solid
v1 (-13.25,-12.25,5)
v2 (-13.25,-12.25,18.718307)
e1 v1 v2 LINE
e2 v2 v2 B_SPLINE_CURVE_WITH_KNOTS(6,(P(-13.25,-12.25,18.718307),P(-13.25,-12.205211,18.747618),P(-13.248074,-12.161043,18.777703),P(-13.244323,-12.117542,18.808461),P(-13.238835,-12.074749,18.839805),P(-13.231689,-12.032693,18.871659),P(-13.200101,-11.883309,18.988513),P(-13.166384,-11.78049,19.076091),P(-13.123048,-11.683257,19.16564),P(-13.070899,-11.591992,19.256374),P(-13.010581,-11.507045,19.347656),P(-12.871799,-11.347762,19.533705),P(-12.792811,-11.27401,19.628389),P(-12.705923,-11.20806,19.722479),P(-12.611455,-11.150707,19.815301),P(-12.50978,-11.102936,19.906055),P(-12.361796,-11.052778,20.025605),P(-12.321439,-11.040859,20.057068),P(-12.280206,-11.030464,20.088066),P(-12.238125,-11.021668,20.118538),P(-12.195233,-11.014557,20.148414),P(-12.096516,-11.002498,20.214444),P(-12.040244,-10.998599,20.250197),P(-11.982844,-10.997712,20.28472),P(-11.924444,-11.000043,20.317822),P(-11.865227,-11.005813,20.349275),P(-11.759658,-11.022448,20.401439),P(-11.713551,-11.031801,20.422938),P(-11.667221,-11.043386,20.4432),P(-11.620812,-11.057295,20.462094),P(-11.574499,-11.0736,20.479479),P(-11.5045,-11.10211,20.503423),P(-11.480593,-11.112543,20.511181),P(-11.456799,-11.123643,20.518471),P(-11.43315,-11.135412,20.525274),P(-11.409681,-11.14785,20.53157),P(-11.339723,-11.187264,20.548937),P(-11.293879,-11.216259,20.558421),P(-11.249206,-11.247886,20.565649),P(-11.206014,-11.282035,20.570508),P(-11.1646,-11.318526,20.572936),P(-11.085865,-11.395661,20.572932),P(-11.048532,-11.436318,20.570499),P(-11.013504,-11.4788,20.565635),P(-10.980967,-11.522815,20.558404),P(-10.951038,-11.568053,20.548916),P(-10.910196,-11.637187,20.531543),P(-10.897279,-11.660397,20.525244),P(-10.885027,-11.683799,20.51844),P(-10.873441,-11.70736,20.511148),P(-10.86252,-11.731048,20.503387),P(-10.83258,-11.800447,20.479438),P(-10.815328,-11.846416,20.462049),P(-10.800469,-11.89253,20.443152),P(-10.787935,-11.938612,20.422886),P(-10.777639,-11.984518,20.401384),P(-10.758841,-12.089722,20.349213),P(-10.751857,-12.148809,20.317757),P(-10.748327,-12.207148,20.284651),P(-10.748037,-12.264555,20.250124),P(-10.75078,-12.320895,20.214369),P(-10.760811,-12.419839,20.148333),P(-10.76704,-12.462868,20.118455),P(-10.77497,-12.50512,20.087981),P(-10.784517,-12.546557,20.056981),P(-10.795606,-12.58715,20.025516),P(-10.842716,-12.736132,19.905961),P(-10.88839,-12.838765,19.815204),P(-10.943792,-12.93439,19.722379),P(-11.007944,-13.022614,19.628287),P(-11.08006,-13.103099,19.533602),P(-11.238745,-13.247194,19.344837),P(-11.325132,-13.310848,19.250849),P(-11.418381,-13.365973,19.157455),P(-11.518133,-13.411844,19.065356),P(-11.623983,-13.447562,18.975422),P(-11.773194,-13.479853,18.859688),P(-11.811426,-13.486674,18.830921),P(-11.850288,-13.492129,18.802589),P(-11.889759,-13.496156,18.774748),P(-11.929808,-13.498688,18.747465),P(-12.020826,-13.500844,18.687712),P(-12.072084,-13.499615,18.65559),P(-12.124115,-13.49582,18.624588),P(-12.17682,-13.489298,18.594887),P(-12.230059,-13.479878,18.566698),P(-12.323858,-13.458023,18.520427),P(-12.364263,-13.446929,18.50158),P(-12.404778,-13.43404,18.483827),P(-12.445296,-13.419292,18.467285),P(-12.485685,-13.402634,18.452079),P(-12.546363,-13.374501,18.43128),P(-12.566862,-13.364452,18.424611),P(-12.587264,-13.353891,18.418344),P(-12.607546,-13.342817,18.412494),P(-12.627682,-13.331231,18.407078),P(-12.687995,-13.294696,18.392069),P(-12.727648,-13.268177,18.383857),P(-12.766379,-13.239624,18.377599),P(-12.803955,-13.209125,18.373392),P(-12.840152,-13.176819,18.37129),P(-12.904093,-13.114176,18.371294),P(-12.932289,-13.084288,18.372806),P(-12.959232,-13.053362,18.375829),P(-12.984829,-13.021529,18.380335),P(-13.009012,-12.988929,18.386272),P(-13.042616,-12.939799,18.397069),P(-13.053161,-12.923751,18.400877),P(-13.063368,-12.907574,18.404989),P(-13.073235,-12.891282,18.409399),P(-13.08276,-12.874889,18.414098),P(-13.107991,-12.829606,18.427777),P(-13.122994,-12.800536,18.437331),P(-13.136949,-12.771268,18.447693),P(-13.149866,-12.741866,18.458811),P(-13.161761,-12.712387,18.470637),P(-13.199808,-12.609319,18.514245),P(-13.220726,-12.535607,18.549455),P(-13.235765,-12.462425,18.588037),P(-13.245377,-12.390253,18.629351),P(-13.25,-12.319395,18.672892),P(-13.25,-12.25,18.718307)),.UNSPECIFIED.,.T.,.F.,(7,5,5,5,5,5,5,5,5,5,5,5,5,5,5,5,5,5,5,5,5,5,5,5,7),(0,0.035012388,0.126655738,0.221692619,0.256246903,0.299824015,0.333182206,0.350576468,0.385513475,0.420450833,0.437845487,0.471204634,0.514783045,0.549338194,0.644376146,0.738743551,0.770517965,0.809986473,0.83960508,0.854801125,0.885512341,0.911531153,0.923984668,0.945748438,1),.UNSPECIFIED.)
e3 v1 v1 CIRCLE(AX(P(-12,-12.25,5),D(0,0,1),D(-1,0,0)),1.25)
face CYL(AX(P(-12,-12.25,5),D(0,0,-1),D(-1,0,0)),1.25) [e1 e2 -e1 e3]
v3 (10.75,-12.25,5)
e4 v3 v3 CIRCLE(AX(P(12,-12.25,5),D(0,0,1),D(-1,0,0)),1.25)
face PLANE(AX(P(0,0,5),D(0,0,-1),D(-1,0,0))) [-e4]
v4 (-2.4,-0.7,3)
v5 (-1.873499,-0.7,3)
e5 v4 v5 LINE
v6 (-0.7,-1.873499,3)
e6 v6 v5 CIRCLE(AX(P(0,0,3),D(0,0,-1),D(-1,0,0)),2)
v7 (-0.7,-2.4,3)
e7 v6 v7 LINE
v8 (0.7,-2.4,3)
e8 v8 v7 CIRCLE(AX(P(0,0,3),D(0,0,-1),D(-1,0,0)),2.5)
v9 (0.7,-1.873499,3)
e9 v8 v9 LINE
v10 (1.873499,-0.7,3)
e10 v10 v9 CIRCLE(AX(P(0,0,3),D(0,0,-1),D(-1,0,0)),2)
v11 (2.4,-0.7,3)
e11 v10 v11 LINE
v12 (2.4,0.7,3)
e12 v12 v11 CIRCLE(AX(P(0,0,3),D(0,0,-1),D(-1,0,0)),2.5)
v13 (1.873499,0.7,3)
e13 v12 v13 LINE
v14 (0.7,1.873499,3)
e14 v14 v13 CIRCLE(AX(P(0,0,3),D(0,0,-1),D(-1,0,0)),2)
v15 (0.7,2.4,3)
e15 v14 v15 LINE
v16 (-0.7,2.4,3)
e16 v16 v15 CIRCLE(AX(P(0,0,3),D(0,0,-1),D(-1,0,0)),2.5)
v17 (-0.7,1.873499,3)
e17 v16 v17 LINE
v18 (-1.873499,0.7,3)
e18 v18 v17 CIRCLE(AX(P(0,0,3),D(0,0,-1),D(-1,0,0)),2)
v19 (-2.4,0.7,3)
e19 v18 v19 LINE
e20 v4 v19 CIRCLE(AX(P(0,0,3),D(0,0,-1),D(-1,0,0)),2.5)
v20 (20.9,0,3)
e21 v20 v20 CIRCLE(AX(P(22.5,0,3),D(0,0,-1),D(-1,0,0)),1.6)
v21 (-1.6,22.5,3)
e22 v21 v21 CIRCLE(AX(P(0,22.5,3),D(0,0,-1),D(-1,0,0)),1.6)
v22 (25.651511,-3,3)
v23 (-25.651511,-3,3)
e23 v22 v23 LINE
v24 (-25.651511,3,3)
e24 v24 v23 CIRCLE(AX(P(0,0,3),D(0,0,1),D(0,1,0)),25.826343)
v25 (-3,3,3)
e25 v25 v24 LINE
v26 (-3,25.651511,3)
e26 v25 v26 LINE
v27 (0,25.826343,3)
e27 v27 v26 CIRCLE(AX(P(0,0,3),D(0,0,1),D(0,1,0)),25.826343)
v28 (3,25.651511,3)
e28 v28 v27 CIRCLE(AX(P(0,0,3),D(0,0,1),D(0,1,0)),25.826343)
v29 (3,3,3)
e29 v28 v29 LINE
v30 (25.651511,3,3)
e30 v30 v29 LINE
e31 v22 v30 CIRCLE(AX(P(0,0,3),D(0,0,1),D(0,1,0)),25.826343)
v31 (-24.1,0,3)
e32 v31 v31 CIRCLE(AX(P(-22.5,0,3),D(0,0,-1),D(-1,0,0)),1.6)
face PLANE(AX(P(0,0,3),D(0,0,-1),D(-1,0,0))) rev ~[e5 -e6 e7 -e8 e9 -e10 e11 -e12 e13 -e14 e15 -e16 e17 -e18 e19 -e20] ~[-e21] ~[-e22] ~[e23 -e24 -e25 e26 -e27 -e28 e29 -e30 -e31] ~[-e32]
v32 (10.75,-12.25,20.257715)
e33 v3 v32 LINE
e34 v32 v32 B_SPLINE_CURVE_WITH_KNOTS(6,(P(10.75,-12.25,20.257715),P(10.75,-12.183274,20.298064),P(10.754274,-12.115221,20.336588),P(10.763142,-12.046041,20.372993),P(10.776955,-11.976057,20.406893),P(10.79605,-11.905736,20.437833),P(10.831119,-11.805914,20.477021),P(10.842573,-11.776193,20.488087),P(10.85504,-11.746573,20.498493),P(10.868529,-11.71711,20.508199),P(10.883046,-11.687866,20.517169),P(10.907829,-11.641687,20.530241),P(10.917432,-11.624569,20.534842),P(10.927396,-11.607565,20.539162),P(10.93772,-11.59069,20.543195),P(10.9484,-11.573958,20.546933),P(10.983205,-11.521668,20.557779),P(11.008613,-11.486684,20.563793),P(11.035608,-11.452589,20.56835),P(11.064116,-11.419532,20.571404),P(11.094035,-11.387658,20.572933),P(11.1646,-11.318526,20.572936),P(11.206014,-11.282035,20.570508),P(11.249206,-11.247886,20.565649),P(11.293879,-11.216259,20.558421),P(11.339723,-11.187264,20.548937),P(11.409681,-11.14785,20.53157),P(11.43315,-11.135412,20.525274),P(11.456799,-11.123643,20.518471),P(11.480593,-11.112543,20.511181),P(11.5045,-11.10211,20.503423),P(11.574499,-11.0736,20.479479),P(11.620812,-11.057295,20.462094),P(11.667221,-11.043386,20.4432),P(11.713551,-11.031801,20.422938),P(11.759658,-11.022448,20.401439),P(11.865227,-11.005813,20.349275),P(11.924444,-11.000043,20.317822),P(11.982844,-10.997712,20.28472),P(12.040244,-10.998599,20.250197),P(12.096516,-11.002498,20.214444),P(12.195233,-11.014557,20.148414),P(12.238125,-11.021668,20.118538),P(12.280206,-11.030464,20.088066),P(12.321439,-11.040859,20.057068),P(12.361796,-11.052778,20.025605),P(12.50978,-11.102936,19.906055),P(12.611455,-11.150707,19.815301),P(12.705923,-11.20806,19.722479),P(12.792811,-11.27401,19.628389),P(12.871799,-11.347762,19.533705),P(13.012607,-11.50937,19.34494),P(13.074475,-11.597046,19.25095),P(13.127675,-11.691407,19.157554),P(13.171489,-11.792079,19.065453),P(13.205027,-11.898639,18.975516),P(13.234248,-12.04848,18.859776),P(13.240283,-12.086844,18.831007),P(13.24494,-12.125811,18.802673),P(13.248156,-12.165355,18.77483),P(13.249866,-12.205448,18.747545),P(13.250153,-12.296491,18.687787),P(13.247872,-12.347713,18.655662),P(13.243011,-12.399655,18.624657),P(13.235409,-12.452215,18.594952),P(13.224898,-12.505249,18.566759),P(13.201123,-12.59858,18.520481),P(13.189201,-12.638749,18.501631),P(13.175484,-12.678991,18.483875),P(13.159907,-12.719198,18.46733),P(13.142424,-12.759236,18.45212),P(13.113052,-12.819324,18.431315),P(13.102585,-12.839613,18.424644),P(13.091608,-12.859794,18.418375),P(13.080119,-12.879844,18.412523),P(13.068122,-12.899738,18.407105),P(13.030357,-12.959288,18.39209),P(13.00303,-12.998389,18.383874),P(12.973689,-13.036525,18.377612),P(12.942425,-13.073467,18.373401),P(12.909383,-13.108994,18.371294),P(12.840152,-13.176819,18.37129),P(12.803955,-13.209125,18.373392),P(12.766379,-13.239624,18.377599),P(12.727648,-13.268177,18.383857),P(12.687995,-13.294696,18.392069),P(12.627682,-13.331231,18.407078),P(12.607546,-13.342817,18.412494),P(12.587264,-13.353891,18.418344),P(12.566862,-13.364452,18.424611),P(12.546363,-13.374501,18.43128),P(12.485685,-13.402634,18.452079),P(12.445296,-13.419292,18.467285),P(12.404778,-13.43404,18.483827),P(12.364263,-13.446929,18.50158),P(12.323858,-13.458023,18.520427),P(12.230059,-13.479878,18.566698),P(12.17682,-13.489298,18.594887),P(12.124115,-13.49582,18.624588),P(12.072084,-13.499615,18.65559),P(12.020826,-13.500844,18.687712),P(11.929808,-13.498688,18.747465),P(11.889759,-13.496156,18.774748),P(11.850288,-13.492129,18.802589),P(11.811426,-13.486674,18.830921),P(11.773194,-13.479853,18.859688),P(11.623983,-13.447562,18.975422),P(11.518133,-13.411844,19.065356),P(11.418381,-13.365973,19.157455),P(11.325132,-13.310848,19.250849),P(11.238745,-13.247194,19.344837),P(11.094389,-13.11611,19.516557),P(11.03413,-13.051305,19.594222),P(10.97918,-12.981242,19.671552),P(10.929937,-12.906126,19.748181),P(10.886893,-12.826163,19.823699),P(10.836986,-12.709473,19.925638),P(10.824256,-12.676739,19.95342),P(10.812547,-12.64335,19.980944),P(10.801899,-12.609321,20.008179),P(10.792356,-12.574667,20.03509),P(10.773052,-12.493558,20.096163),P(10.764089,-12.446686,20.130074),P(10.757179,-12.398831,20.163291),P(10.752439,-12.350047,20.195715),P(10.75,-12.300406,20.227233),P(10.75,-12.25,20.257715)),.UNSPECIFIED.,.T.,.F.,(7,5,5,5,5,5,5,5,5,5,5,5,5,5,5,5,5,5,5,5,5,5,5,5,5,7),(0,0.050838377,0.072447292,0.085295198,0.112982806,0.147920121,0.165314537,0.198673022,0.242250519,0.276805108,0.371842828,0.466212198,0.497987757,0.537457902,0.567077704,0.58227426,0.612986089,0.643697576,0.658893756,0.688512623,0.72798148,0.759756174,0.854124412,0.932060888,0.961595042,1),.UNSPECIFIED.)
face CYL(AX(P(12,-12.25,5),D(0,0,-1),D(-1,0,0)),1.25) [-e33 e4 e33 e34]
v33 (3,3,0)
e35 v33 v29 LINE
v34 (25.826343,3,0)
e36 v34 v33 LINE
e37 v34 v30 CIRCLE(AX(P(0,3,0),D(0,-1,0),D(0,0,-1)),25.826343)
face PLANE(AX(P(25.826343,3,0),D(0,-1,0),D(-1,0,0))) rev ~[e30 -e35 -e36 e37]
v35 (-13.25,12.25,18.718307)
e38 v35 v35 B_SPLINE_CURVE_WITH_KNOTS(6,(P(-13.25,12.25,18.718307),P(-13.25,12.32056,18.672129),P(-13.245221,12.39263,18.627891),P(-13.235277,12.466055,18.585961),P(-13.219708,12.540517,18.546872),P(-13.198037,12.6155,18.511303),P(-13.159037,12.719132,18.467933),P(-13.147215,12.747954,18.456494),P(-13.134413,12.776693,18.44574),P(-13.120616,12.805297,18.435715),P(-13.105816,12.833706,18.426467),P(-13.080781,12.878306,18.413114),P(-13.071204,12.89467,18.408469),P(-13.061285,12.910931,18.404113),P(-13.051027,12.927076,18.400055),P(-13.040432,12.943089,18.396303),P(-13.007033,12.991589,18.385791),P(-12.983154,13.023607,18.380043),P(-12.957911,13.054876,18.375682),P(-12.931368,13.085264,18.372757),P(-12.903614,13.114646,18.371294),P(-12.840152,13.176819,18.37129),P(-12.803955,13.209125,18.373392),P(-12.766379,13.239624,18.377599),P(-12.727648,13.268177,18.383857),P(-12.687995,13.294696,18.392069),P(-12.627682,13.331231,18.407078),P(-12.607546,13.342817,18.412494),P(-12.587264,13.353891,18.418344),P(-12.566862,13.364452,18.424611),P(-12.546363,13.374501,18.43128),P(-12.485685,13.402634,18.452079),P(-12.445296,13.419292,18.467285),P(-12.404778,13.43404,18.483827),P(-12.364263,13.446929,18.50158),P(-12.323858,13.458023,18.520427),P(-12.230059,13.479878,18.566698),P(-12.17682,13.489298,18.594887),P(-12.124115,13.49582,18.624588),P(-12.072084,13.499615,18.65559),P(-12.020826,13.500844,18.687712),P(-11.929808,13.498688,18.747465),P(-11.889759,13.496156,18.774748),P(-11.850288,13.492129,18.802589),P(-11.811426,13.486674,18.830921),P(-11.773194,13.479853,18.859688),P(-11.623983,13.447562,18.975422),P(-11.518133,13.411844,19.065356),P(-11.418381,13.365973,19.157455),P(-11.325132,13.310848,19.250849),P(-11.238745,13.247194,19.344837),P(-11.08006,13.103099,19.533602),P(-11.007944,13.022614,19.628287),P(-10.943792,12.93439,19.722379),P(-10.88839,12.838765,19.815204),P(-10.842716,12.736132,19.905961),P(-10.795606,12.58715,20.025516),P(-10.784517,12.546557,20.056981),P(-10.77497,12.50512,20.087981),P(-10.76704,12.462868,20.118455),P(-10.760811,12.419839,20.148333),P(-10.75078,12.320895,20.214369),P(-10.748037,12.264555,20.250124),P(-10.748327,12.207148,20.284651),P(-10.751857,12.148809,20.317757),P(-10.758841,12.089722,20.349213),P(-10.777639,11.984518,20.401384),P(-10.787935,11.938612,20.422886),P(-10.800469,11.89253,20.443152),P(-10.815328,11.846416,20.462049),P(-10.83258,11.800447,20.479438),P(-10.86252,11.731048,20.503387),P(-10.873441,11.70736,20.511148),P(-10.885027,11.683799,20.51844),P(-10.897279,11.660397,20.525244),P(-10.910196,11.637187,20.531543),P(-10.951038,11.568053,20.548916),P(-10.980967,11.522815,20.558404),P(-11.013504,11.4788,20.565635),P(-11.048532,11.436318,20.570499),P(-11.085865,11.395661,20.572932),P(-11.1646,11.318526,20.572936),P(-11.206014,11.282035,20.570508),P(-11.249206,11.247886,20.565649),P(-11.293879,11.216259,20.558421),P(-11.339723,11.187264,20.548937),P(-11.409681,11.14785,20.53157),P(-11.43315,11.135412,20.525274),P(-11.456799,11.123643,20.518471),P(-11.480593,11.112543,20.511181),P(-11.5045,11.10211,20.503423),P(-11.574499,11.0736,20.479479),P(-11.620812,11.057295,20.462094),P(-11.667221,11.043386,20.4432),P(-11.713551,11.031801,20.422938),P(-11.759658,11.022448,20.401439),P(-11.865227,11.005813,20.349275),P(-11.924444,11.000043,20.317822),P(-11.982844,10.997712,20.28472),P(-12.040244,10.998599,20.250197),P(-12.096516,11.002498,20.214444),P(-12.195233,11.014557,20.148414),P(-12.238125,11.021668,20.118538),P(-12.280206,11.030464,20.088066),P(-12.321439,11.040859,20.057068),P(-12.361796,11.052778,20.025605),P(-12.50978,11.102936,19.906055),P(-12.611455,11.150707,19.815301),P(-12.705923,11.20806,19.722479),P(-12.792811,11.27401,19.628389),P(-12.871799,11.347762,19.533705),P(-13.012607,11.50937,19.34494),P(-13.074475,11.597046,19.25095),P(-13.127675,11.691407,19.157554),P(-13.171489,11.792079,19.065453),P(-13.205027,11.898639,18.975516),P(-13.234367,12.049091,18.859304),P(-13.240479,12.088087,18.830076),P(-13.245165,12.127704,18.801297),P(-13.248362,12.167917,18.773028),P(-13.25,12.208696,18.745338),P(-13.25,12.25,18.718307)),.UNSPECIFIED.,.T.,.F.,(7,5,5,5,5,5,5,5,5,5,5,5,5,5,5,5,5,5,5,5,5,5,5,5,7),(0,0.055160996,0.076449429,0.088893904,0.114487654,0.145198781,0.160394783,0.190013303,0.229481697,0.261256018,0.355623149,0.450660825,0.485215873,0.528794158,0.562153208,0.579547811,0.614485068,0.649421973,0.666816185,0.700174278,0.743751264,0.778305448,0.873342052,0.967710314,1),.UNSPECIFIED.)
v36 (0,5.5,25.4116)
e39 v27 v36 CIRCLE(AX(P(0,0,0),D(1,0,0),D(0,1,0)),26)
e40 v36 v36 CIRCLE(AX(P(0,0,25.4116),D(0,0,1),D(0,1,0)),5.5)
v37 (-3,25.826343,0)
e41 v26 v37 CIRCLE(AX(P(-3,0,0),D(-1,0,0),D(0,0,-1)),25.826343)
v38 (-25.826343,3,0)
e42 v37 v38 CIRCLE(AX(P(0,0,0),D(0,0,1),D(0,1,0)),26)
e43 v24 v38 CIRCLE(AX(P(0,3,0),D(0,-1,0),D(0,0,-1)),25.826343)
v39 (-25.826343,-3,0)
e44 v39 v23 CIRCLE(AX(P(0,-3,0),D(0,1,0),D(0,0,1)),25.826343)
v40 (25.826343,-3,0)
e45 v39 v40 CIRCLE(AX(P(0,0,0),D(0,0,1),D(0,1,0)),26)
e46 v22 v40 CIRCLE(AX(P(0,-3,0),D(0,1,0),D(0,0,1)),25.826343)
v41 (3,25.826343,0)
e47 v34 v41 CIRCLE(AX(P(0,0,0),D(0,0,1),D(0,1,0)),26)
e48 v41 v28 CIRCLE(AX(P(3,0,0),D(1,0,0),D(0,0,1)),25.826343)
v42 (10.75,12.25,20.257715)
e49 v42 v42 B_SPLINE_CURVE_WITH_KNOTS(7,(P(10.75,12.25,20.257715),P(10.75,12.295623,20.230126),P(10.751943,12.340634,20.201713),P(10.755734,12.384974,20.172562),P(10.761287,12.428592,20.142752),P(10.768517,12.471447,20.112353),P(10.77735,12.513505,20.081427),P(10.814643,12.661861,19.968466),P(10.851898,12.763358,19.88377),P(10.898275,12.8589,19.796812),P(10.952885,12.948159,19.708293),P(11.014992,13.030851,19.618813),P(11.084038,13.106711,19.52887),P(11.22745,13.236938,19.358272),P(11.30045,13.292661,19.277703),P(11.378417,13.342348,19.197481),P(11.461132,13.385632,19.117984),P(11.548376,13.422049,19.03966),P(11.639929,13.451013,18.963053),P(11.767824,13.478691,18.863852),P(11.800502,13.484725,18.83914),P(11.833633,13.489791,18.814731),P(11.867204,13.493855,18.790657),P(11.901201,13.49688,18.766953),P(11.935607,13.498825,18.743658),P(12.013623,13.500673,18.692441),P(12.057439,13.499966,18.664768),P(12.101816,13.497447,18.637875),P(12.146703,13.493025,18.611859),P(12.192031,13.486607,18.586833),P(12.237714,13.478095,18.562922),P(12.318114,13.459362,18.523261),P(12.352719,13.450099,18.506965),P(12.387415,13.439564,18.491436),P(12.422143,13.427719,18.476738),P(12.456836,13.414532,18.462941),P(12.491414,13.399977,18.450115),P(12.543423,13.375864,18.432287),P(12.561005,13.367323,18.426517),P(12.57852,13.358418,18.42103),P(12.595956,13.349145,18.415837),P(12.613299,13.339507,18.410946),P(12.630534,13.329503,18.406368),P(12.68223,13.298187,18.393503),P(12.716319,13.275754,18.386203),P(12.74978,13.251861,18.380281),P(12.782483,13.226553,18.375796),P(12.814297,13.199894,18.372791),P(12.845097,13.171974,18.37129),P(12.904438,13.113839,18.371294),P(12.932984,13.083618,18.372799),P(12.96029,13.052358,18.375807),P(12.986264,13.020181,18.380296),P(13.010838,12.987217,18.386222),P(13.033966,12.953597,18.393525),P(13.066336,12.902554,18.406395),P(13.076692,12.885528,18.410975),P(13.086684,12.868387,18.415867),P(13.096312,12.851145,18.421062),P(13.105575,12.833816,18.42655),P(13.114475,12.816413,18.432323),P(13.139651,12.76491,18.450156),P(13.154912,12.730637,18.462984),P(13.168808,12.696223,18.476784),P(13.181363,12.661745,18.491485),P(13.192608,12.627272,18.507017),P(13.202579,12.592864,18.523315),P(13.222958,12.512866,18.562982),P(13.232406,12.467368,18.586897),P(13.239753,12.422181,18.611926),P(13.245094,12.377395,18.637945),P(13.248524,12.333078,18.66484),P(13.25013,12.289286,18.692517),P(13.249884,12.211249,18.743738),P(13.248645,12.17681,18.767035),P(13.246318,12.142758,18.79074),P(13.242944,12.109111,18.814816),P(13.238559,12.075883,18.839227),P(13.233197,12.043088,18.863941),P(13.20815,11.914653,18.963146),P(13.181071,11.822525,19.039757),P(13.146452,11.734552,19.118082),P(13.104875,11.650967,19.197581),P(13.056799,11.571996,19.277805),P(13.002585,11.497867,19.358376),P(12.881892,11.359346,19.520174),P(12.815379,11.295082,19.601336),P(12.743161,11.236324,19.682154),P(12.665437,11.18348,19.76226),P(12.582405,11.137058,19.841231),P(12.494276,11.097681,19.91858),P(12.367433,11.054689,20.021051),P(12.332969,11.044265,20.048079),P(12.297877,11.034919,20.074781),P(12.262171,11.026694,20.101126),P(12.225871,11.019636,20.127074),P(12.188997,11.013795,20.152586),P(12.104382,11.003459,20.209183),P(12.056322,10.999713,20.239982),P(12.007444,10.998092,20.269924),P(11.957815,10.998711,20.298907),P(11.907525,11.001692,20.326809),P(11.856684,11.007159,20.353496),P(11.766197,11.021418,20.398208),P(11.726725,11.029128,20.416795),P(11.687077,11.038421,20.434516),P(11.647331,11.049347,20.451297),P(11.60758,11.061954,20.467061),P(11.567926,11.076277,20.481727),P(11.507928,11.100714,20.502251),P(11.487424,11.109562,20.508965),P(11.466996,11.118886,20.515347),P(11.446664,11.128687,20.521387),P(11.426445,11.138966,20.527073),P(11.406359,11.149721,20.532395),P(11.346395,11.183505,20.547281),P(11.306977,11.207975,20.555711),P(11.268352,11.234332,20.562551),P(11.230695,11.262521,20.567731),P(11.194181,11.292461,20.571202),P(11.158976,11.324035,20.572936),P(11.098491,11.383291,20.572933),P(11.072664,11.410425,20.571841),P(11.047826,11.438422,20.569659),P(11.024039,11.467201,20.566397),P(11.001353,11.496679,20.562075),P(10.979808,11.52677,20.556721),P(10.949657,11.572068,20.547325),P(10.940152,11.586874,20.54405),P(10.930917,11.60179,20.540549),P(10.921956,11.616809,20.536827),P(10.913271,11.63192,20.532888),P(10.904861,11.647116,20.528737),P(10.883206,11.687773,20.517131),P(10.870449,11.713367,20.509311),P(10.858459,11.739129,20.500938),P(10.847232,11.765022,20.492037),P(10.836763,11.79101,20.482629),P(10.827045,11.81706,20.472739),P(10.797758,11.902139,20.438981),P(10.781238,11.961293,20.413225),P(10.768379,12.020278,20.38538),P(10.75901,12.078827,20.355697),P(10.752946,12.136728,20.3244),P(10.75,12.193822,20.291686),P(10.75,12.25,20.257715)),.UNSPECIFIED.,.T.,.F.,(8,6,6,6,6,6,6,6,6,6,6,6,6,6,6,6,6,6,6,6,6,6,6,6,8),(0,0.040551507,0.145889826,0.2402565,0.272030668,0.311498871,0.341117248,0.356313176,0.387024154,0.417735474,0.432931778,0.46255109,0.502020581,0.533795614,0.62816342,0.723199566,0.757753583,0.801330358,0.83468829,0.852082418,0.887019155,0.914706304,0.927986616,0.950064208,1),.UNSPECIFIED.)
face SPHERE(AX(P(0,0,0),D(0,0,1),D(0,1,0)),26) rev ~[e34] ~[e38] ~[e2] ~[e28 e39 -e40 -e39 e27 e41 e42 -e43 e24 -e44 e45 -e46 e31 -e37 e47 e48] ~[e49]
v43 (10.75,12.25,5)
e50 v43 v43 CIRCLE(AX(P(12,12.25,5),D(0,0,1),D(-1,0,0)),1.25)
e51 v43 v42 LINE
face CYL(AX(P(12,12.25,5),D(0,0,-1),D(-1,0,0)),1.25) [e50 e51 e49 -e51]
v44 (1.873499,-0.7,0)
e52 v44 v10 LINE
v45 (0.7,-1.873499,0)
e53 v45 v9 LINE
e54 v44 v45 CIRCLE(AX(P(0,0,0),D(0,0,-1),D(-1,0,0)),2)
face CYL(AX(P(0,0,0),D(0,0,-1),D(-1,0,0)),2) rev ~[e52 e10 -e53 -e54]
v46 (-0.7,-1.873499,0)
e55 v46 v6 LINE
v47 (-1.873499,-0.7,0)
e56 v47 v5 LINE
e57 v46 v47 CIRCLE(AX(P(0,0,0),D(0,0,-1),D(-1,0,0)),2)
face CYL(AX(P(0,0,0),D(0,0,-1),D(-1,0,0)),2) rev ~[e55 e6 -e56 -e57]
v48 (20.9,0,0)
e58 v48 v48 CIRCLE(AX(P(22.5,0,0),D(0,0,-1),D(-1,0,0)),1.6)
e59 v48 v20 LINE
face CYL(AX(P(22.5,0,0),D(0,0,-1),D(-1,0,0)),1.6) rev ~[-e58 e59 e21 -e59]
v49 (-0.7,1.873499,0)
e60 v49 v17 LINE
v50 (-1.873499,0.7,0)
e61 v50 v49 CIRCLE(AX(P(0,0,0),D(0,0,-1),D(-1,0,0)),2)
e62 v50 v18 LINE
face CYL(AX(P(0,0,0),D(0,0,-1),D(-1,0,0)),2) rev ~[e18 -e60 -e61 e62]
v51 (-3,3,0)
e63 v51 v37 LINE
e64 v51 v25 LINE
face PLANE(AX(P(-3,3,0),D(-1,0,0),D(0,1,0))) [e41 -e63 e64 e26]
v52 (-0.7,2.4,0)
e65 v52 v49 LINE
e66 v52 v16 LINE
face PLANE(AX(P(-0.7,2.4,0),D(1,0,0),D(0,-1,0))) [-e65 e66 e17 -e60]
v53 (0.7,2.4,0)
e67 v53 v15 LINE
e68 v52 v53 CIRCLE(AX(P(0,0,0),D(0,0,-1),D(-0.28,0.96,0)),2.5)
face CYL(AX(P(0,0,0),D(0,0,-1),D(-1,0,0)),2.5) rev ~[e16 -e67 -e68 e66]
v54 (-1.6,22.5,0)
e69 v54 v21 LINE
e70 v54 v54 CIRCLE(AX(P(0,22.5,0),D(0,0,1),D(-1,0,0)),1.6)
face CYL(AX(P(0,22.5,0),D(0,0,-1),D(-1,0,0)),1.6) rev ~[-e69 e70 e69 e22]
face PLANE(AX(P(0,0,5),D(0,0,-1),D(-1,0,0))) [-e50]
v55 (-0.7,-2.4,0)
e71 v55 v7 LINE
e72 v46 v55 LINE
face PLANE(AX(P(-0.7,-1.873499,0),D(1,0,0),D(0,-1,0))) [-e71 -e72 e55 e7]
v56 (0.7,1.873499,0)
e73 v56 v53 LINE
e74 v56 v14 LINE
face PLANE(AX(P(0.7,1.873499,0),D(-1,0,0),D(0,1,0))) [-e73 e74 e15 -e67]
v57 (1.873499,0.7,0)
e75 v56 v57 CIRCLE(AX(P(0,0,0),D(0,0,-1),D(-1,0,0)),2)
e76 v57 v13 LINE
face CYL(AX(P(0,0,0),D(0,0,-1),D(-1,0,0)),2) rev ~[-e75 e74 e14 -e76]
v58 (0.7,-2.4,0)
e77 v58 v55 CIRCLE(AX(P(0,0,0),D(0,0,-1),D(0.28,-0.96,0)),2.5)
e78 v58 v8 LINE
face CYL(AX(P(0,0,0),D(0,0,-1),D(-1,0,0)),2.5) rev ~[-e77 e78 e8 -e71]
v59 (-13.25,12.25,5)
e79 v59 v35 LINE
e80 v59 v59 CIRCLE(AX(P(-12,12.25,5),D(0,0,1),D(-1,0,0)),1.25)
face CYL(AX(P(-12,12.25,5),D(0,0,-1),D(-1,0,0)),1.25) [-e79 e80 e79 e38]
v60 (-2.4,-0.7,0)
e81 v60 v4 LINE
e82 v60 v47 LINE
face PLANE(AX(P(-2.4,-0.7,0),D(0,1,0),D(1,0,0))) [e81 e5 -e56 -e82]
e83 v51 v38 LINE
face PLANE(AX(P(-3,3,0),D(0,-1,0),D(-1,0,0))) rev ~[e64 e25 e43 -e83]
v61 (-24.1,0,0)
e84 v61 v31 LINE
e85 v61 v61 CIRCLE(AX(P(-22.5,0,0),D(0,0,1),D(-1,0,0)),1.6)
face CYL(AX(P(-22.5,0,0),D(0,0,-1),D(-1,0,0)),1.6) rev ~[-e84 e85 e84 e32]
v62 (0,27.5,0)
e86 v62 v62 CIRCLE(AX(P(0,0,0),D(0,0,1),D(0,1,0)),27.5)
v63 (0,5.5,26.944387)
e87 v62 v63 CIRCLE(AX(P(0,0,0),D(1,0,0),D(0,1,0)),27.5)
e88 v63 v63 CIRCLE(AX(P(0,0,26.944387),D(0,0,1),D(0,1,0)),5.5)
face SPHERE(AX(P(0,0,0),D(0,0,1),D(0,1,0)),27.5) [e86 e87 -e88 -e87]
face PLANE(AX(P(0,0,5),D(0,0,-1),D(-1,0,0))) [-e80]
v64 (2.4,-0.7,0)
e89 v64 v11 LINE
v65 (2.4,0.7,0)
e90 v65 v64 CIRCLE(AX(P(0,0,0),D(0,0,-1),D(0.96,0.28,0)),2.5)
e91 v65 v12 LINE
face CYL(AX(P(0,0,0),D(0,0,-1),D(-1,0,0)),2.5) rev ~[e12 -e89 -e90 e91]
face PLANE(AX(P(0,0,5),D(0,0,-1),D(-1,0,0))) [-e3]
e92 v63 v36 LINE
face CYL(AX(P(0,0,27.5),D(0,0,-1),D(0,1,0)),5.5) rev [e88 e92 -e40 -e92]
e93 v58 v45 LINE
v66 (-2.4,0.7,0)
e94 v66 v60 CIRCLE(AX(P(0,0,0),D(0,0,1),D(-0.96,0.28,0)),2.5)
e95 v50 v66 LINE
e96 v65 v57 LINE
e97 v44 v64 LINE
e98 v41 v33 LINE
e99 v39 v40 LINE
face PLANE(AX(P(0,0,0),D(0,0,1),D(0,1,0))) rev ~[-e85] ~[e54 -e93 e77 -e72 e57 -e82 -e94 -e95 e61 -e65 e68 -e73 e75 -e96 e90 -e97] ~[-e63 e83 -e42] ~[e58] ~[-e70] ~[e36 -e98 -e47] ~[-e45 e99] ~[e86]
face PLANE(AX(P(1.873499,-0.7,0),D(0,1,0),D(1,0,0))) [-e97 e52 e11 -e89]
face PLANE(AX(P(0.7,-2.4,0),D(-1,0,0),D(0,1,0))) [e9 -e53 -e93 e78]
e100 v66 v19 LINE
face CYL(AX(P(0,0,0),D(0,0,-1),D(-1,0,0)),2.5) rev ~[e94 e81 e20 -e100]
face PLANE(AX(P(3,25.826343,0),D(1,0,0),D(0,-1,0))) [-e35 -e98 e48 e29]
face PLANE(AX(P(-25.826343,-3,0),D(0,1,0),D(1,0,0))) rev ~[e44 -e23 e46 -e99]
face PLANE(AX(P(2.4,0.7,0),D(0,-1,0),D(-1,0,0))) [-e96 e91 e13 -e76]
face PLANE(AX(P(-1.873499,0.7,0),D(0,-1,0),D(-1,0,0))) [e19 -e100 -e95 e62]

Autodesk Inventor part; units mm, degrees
ref_plane "YZ Plane" through (0, 0, 0) normal (1, 0, 0) x (0, 1, 0)
ref_plane "XZ Plane" through (0, 0, 0) normal (0, 1, 0) x (-1, 0, 0)
sketch "Sketch4" plane through (0, 0, 0) normal (1, 0, 0) x (0, 1, 0)
  circle A0 centre (0, 0) radius 27.5
  circle A1 centre (0, 0) radius 26
  line L0 (0, 0) -> (0, 27.5)
  line L1 (0, 27.5) -> (5.5, 27.5)
  line L2 (5.5, 27.5) -> (5.5, 25.4116)
  line L3 (0, 27.5) -> (-5.5, 27.5)
  line L4 (-5.5, 27.5) -> (-5.5, 25.4116)
  line L5 (27.5, 0) -> (-27.5, 0)
  point P0 (26, 0)
  point P1 (5.5, 26.9444)
  dimension "d20" = 55
  dimension "d21" = 52
  dimension "d22" = 5.5
  dimension "d23" = 5.5
revolve "Revolution2" add sketch "Sketch4" angle 360 about axis through (0, 0, 0) along (0, 0, 1) contours L5 A1 L2 A0
ref_plane "Work Plane1" through (0, 0, 5) normal (0, 0, -1) x (-1, 0, 0)
sketch "Sketch5" plane through (0, 0, 5) normal (0, 0, -1) x (-1, 0, 0)
  line L0 (-12, -12.25) -> (12, -12.25)
  line L1 (12, -12.25) -> (12, 12.25)
  line L2 (12, 12.25) -> (-12, 12.25)
  line L3 (-12, 12.25) -> (-12, -12.25)
  line L4 (-12, -12.25) -> (12, 12.25) construction
  line L5 (12, -12.25) -> (-12, 12.25) construction
  circle A0 centre (-12, 12.25) radius 1.25
  circle A1 centre (12, 12.25) radius 1.25
  circle A2 centre (12, -12.25) radius 1.25
  circle A3 centre (-12, -12.25) radius 1.25
  point P0 (0, 0)
  dimension "d26" = 24
  dimension "d27" = 24.5
  dimension "d28" = 2.5
extrude "Extrusion3" add sketch "Sketch5" against normal up to surface contours L3 A3 L0 | L0 A3 L3 | A2 L1 L0 | L0 L1 A2 | A0 L2 L3 | L3 L2 A0 | A1 L2 L1 | L1 L2 A1
sketch "Sketch6" plane through (0, 0, 0) normal (0, 0, -1) x (-1, 0, 0)
  circle A0 centre (0, 0) radius 26 projected
  line L0 (-26, 0) -> (-26.75, 0)
  line L1 (-26.75, 0) -> (-26.75, 3)
  line L2 (-26.75, 3) -> (26.75, 3)
  line L3 (26.75, 3) -> (26.75, -3)
  line L4 (26.75, -3) -> (-26.75, -3)
  line L5 (-26.75, -3) -> (-26.75, 3)
  line L6 (0, 26) -> (0, 26.75)
  line L7 (0, 26.75) -> (3, 26.75)
  line L8 (3, 26.75) -> (-3, 26.75)
  line L9 (-3, 26.75) -> (-3, -26.75)
  line L10 (-3, -26.75) -> (3, -26.75)
  line L11 (3, -26.75) -> (3, 26.75)
  point P0 (-3, 3)
  point P1 (-25.8263, 3)
  point P2 (-25.8263, -3)
  point P3 (25.8263, -3)
  point P4 (25.8263, 3)
  point P5 (3, 3)
  point P6 (3, 25.8263)
  point P7 (-3, 25.8263)
  point P8 (3, -25.8263)
  point P9 (-3, -25.8263)
  point P10 (3, -3)
  point P11 (-3, -3)
  dimension "d31" = 0.75
  dimension "d32" = 3
  dimension "d33" = 53.5
  dimension "d34" = 6
  dimension "d35" = 0.75
  dimension "d36" = 3
  dimension "d37" = 6
  dimension "d38" = 53.5
extrude "Extrusion4" add sketch "Sketch6" against normal blind 3 contours A0 L4 L11 L2 | L11 L2 L9 A0 | L11 L4 L9 L2 | L9 L4 A0 L2
sketch "Sketch7" plane through (0, 0, 0) normal (0, 0, -1) x (-1, 0, 0)
  line L0 (0, 0) -> (22.5, 0)
  line L1 (0, 0) -> (-22.5, 0)
  line L2 (0, 0) -> (0, 22.5)
  circle A0 centre (0, 22.5) radius 1.6
  circle A1 centre (-22.5, 0) radius 1.6
  circle A2 centre (22.5, 0) radius 1.6
  dimension "d41" = 22.5
  dimension "d42" = 22.5
  dimension "d43" = 22.5
  dimension "d44" = 3.2
  dimension "d45" = 3.2
  dimension "d46" = 3.2
extrude "Extrusion5" cut sketch "Sketch7" against normal up to surface
sketch "Sketch8" plane through (0, 0, 0) normal (0, 0, -1) x (-1, 0, 0)
  circle A0 centre (0, 0) radius 2.5
  circle A1 centre (0, 0) radius 2
  line L0 (2.5, -0.7) -> (-2.5, -0.7)
  line L1 (-2.5, -0.7) -> (-2.5, 0.7)
  line L2 (-2.5, 0.7) -> (2.5, 0.7)
  line L3 (2.5, 0.7) -> (2.5, -0.7)
  line L4 (2.5, -0.7) -> (-2.5, 0.7) construction
  line L5 (-2.5, -0.7) -> (2.5, 0.7) construction
  line L6 (-0.7, -2.5) -> (-0.7, 2.5)
  line L7 (-0.7, 2.5) -> (0.7, 2.5)
  line L8 (0.7, 2.5) -> (0.7, -2.5)
  line L9 (0.7, -2.5) -> (-0.7, -2.5)
  line L10 (-0.7, -2.5) -> (0.7, 2.5) construction
  line L11 (-0.7, 2.5) -> (0.7, -2.5) construction
  point P0 (-0.7, 1.8735)
  point P1 (-1.8735, 0.7)
  point P2 (-2.4, 0.7)
  point P3 (-2.4, -0.7)
  point P4 (-1.8735, -0.7)
  point P5 (-0.7, -1.8735)
  point P6 (-0.7, -2.4)
  point P7 (0.7, -2.4)
  point P8 (0.7, -1.8735)
  point P9 (1.8735, -0.7)
  point P10 (2.4, -0.7)
  point P11 (2.4, 0.7)
  point P12 (1.8735, 0.7)
  point P13 (0.7, 1.8735)
  point P14 (0.7, 2.4)
  point P15 (-0.7, 2.4)
  dimension "d49" = 5
  dimension "d50" = 4
  dimension "d51" = 1.4
  dimension "d52" = 1.4
extrude "Extrusion6" cut sketch "Sketch8" against normal blind 10 contours A0 L0 A1 L2 | L8 A1 L6 A0 | L2 L8 A1 | A1 L0 L8 L2 | A0 L6 A1 L8 | A1 L8 L0 | L8 L2 L6 A1 | L8 L0 L6 L2 | A1 L6 L0 L8 | L6 L2 A1 | L6 L0 A1 L2 | A1 L0 L6 | L2 A1 L0 A0
equation "\"d39\" = d32"
properties part number "Eye"
